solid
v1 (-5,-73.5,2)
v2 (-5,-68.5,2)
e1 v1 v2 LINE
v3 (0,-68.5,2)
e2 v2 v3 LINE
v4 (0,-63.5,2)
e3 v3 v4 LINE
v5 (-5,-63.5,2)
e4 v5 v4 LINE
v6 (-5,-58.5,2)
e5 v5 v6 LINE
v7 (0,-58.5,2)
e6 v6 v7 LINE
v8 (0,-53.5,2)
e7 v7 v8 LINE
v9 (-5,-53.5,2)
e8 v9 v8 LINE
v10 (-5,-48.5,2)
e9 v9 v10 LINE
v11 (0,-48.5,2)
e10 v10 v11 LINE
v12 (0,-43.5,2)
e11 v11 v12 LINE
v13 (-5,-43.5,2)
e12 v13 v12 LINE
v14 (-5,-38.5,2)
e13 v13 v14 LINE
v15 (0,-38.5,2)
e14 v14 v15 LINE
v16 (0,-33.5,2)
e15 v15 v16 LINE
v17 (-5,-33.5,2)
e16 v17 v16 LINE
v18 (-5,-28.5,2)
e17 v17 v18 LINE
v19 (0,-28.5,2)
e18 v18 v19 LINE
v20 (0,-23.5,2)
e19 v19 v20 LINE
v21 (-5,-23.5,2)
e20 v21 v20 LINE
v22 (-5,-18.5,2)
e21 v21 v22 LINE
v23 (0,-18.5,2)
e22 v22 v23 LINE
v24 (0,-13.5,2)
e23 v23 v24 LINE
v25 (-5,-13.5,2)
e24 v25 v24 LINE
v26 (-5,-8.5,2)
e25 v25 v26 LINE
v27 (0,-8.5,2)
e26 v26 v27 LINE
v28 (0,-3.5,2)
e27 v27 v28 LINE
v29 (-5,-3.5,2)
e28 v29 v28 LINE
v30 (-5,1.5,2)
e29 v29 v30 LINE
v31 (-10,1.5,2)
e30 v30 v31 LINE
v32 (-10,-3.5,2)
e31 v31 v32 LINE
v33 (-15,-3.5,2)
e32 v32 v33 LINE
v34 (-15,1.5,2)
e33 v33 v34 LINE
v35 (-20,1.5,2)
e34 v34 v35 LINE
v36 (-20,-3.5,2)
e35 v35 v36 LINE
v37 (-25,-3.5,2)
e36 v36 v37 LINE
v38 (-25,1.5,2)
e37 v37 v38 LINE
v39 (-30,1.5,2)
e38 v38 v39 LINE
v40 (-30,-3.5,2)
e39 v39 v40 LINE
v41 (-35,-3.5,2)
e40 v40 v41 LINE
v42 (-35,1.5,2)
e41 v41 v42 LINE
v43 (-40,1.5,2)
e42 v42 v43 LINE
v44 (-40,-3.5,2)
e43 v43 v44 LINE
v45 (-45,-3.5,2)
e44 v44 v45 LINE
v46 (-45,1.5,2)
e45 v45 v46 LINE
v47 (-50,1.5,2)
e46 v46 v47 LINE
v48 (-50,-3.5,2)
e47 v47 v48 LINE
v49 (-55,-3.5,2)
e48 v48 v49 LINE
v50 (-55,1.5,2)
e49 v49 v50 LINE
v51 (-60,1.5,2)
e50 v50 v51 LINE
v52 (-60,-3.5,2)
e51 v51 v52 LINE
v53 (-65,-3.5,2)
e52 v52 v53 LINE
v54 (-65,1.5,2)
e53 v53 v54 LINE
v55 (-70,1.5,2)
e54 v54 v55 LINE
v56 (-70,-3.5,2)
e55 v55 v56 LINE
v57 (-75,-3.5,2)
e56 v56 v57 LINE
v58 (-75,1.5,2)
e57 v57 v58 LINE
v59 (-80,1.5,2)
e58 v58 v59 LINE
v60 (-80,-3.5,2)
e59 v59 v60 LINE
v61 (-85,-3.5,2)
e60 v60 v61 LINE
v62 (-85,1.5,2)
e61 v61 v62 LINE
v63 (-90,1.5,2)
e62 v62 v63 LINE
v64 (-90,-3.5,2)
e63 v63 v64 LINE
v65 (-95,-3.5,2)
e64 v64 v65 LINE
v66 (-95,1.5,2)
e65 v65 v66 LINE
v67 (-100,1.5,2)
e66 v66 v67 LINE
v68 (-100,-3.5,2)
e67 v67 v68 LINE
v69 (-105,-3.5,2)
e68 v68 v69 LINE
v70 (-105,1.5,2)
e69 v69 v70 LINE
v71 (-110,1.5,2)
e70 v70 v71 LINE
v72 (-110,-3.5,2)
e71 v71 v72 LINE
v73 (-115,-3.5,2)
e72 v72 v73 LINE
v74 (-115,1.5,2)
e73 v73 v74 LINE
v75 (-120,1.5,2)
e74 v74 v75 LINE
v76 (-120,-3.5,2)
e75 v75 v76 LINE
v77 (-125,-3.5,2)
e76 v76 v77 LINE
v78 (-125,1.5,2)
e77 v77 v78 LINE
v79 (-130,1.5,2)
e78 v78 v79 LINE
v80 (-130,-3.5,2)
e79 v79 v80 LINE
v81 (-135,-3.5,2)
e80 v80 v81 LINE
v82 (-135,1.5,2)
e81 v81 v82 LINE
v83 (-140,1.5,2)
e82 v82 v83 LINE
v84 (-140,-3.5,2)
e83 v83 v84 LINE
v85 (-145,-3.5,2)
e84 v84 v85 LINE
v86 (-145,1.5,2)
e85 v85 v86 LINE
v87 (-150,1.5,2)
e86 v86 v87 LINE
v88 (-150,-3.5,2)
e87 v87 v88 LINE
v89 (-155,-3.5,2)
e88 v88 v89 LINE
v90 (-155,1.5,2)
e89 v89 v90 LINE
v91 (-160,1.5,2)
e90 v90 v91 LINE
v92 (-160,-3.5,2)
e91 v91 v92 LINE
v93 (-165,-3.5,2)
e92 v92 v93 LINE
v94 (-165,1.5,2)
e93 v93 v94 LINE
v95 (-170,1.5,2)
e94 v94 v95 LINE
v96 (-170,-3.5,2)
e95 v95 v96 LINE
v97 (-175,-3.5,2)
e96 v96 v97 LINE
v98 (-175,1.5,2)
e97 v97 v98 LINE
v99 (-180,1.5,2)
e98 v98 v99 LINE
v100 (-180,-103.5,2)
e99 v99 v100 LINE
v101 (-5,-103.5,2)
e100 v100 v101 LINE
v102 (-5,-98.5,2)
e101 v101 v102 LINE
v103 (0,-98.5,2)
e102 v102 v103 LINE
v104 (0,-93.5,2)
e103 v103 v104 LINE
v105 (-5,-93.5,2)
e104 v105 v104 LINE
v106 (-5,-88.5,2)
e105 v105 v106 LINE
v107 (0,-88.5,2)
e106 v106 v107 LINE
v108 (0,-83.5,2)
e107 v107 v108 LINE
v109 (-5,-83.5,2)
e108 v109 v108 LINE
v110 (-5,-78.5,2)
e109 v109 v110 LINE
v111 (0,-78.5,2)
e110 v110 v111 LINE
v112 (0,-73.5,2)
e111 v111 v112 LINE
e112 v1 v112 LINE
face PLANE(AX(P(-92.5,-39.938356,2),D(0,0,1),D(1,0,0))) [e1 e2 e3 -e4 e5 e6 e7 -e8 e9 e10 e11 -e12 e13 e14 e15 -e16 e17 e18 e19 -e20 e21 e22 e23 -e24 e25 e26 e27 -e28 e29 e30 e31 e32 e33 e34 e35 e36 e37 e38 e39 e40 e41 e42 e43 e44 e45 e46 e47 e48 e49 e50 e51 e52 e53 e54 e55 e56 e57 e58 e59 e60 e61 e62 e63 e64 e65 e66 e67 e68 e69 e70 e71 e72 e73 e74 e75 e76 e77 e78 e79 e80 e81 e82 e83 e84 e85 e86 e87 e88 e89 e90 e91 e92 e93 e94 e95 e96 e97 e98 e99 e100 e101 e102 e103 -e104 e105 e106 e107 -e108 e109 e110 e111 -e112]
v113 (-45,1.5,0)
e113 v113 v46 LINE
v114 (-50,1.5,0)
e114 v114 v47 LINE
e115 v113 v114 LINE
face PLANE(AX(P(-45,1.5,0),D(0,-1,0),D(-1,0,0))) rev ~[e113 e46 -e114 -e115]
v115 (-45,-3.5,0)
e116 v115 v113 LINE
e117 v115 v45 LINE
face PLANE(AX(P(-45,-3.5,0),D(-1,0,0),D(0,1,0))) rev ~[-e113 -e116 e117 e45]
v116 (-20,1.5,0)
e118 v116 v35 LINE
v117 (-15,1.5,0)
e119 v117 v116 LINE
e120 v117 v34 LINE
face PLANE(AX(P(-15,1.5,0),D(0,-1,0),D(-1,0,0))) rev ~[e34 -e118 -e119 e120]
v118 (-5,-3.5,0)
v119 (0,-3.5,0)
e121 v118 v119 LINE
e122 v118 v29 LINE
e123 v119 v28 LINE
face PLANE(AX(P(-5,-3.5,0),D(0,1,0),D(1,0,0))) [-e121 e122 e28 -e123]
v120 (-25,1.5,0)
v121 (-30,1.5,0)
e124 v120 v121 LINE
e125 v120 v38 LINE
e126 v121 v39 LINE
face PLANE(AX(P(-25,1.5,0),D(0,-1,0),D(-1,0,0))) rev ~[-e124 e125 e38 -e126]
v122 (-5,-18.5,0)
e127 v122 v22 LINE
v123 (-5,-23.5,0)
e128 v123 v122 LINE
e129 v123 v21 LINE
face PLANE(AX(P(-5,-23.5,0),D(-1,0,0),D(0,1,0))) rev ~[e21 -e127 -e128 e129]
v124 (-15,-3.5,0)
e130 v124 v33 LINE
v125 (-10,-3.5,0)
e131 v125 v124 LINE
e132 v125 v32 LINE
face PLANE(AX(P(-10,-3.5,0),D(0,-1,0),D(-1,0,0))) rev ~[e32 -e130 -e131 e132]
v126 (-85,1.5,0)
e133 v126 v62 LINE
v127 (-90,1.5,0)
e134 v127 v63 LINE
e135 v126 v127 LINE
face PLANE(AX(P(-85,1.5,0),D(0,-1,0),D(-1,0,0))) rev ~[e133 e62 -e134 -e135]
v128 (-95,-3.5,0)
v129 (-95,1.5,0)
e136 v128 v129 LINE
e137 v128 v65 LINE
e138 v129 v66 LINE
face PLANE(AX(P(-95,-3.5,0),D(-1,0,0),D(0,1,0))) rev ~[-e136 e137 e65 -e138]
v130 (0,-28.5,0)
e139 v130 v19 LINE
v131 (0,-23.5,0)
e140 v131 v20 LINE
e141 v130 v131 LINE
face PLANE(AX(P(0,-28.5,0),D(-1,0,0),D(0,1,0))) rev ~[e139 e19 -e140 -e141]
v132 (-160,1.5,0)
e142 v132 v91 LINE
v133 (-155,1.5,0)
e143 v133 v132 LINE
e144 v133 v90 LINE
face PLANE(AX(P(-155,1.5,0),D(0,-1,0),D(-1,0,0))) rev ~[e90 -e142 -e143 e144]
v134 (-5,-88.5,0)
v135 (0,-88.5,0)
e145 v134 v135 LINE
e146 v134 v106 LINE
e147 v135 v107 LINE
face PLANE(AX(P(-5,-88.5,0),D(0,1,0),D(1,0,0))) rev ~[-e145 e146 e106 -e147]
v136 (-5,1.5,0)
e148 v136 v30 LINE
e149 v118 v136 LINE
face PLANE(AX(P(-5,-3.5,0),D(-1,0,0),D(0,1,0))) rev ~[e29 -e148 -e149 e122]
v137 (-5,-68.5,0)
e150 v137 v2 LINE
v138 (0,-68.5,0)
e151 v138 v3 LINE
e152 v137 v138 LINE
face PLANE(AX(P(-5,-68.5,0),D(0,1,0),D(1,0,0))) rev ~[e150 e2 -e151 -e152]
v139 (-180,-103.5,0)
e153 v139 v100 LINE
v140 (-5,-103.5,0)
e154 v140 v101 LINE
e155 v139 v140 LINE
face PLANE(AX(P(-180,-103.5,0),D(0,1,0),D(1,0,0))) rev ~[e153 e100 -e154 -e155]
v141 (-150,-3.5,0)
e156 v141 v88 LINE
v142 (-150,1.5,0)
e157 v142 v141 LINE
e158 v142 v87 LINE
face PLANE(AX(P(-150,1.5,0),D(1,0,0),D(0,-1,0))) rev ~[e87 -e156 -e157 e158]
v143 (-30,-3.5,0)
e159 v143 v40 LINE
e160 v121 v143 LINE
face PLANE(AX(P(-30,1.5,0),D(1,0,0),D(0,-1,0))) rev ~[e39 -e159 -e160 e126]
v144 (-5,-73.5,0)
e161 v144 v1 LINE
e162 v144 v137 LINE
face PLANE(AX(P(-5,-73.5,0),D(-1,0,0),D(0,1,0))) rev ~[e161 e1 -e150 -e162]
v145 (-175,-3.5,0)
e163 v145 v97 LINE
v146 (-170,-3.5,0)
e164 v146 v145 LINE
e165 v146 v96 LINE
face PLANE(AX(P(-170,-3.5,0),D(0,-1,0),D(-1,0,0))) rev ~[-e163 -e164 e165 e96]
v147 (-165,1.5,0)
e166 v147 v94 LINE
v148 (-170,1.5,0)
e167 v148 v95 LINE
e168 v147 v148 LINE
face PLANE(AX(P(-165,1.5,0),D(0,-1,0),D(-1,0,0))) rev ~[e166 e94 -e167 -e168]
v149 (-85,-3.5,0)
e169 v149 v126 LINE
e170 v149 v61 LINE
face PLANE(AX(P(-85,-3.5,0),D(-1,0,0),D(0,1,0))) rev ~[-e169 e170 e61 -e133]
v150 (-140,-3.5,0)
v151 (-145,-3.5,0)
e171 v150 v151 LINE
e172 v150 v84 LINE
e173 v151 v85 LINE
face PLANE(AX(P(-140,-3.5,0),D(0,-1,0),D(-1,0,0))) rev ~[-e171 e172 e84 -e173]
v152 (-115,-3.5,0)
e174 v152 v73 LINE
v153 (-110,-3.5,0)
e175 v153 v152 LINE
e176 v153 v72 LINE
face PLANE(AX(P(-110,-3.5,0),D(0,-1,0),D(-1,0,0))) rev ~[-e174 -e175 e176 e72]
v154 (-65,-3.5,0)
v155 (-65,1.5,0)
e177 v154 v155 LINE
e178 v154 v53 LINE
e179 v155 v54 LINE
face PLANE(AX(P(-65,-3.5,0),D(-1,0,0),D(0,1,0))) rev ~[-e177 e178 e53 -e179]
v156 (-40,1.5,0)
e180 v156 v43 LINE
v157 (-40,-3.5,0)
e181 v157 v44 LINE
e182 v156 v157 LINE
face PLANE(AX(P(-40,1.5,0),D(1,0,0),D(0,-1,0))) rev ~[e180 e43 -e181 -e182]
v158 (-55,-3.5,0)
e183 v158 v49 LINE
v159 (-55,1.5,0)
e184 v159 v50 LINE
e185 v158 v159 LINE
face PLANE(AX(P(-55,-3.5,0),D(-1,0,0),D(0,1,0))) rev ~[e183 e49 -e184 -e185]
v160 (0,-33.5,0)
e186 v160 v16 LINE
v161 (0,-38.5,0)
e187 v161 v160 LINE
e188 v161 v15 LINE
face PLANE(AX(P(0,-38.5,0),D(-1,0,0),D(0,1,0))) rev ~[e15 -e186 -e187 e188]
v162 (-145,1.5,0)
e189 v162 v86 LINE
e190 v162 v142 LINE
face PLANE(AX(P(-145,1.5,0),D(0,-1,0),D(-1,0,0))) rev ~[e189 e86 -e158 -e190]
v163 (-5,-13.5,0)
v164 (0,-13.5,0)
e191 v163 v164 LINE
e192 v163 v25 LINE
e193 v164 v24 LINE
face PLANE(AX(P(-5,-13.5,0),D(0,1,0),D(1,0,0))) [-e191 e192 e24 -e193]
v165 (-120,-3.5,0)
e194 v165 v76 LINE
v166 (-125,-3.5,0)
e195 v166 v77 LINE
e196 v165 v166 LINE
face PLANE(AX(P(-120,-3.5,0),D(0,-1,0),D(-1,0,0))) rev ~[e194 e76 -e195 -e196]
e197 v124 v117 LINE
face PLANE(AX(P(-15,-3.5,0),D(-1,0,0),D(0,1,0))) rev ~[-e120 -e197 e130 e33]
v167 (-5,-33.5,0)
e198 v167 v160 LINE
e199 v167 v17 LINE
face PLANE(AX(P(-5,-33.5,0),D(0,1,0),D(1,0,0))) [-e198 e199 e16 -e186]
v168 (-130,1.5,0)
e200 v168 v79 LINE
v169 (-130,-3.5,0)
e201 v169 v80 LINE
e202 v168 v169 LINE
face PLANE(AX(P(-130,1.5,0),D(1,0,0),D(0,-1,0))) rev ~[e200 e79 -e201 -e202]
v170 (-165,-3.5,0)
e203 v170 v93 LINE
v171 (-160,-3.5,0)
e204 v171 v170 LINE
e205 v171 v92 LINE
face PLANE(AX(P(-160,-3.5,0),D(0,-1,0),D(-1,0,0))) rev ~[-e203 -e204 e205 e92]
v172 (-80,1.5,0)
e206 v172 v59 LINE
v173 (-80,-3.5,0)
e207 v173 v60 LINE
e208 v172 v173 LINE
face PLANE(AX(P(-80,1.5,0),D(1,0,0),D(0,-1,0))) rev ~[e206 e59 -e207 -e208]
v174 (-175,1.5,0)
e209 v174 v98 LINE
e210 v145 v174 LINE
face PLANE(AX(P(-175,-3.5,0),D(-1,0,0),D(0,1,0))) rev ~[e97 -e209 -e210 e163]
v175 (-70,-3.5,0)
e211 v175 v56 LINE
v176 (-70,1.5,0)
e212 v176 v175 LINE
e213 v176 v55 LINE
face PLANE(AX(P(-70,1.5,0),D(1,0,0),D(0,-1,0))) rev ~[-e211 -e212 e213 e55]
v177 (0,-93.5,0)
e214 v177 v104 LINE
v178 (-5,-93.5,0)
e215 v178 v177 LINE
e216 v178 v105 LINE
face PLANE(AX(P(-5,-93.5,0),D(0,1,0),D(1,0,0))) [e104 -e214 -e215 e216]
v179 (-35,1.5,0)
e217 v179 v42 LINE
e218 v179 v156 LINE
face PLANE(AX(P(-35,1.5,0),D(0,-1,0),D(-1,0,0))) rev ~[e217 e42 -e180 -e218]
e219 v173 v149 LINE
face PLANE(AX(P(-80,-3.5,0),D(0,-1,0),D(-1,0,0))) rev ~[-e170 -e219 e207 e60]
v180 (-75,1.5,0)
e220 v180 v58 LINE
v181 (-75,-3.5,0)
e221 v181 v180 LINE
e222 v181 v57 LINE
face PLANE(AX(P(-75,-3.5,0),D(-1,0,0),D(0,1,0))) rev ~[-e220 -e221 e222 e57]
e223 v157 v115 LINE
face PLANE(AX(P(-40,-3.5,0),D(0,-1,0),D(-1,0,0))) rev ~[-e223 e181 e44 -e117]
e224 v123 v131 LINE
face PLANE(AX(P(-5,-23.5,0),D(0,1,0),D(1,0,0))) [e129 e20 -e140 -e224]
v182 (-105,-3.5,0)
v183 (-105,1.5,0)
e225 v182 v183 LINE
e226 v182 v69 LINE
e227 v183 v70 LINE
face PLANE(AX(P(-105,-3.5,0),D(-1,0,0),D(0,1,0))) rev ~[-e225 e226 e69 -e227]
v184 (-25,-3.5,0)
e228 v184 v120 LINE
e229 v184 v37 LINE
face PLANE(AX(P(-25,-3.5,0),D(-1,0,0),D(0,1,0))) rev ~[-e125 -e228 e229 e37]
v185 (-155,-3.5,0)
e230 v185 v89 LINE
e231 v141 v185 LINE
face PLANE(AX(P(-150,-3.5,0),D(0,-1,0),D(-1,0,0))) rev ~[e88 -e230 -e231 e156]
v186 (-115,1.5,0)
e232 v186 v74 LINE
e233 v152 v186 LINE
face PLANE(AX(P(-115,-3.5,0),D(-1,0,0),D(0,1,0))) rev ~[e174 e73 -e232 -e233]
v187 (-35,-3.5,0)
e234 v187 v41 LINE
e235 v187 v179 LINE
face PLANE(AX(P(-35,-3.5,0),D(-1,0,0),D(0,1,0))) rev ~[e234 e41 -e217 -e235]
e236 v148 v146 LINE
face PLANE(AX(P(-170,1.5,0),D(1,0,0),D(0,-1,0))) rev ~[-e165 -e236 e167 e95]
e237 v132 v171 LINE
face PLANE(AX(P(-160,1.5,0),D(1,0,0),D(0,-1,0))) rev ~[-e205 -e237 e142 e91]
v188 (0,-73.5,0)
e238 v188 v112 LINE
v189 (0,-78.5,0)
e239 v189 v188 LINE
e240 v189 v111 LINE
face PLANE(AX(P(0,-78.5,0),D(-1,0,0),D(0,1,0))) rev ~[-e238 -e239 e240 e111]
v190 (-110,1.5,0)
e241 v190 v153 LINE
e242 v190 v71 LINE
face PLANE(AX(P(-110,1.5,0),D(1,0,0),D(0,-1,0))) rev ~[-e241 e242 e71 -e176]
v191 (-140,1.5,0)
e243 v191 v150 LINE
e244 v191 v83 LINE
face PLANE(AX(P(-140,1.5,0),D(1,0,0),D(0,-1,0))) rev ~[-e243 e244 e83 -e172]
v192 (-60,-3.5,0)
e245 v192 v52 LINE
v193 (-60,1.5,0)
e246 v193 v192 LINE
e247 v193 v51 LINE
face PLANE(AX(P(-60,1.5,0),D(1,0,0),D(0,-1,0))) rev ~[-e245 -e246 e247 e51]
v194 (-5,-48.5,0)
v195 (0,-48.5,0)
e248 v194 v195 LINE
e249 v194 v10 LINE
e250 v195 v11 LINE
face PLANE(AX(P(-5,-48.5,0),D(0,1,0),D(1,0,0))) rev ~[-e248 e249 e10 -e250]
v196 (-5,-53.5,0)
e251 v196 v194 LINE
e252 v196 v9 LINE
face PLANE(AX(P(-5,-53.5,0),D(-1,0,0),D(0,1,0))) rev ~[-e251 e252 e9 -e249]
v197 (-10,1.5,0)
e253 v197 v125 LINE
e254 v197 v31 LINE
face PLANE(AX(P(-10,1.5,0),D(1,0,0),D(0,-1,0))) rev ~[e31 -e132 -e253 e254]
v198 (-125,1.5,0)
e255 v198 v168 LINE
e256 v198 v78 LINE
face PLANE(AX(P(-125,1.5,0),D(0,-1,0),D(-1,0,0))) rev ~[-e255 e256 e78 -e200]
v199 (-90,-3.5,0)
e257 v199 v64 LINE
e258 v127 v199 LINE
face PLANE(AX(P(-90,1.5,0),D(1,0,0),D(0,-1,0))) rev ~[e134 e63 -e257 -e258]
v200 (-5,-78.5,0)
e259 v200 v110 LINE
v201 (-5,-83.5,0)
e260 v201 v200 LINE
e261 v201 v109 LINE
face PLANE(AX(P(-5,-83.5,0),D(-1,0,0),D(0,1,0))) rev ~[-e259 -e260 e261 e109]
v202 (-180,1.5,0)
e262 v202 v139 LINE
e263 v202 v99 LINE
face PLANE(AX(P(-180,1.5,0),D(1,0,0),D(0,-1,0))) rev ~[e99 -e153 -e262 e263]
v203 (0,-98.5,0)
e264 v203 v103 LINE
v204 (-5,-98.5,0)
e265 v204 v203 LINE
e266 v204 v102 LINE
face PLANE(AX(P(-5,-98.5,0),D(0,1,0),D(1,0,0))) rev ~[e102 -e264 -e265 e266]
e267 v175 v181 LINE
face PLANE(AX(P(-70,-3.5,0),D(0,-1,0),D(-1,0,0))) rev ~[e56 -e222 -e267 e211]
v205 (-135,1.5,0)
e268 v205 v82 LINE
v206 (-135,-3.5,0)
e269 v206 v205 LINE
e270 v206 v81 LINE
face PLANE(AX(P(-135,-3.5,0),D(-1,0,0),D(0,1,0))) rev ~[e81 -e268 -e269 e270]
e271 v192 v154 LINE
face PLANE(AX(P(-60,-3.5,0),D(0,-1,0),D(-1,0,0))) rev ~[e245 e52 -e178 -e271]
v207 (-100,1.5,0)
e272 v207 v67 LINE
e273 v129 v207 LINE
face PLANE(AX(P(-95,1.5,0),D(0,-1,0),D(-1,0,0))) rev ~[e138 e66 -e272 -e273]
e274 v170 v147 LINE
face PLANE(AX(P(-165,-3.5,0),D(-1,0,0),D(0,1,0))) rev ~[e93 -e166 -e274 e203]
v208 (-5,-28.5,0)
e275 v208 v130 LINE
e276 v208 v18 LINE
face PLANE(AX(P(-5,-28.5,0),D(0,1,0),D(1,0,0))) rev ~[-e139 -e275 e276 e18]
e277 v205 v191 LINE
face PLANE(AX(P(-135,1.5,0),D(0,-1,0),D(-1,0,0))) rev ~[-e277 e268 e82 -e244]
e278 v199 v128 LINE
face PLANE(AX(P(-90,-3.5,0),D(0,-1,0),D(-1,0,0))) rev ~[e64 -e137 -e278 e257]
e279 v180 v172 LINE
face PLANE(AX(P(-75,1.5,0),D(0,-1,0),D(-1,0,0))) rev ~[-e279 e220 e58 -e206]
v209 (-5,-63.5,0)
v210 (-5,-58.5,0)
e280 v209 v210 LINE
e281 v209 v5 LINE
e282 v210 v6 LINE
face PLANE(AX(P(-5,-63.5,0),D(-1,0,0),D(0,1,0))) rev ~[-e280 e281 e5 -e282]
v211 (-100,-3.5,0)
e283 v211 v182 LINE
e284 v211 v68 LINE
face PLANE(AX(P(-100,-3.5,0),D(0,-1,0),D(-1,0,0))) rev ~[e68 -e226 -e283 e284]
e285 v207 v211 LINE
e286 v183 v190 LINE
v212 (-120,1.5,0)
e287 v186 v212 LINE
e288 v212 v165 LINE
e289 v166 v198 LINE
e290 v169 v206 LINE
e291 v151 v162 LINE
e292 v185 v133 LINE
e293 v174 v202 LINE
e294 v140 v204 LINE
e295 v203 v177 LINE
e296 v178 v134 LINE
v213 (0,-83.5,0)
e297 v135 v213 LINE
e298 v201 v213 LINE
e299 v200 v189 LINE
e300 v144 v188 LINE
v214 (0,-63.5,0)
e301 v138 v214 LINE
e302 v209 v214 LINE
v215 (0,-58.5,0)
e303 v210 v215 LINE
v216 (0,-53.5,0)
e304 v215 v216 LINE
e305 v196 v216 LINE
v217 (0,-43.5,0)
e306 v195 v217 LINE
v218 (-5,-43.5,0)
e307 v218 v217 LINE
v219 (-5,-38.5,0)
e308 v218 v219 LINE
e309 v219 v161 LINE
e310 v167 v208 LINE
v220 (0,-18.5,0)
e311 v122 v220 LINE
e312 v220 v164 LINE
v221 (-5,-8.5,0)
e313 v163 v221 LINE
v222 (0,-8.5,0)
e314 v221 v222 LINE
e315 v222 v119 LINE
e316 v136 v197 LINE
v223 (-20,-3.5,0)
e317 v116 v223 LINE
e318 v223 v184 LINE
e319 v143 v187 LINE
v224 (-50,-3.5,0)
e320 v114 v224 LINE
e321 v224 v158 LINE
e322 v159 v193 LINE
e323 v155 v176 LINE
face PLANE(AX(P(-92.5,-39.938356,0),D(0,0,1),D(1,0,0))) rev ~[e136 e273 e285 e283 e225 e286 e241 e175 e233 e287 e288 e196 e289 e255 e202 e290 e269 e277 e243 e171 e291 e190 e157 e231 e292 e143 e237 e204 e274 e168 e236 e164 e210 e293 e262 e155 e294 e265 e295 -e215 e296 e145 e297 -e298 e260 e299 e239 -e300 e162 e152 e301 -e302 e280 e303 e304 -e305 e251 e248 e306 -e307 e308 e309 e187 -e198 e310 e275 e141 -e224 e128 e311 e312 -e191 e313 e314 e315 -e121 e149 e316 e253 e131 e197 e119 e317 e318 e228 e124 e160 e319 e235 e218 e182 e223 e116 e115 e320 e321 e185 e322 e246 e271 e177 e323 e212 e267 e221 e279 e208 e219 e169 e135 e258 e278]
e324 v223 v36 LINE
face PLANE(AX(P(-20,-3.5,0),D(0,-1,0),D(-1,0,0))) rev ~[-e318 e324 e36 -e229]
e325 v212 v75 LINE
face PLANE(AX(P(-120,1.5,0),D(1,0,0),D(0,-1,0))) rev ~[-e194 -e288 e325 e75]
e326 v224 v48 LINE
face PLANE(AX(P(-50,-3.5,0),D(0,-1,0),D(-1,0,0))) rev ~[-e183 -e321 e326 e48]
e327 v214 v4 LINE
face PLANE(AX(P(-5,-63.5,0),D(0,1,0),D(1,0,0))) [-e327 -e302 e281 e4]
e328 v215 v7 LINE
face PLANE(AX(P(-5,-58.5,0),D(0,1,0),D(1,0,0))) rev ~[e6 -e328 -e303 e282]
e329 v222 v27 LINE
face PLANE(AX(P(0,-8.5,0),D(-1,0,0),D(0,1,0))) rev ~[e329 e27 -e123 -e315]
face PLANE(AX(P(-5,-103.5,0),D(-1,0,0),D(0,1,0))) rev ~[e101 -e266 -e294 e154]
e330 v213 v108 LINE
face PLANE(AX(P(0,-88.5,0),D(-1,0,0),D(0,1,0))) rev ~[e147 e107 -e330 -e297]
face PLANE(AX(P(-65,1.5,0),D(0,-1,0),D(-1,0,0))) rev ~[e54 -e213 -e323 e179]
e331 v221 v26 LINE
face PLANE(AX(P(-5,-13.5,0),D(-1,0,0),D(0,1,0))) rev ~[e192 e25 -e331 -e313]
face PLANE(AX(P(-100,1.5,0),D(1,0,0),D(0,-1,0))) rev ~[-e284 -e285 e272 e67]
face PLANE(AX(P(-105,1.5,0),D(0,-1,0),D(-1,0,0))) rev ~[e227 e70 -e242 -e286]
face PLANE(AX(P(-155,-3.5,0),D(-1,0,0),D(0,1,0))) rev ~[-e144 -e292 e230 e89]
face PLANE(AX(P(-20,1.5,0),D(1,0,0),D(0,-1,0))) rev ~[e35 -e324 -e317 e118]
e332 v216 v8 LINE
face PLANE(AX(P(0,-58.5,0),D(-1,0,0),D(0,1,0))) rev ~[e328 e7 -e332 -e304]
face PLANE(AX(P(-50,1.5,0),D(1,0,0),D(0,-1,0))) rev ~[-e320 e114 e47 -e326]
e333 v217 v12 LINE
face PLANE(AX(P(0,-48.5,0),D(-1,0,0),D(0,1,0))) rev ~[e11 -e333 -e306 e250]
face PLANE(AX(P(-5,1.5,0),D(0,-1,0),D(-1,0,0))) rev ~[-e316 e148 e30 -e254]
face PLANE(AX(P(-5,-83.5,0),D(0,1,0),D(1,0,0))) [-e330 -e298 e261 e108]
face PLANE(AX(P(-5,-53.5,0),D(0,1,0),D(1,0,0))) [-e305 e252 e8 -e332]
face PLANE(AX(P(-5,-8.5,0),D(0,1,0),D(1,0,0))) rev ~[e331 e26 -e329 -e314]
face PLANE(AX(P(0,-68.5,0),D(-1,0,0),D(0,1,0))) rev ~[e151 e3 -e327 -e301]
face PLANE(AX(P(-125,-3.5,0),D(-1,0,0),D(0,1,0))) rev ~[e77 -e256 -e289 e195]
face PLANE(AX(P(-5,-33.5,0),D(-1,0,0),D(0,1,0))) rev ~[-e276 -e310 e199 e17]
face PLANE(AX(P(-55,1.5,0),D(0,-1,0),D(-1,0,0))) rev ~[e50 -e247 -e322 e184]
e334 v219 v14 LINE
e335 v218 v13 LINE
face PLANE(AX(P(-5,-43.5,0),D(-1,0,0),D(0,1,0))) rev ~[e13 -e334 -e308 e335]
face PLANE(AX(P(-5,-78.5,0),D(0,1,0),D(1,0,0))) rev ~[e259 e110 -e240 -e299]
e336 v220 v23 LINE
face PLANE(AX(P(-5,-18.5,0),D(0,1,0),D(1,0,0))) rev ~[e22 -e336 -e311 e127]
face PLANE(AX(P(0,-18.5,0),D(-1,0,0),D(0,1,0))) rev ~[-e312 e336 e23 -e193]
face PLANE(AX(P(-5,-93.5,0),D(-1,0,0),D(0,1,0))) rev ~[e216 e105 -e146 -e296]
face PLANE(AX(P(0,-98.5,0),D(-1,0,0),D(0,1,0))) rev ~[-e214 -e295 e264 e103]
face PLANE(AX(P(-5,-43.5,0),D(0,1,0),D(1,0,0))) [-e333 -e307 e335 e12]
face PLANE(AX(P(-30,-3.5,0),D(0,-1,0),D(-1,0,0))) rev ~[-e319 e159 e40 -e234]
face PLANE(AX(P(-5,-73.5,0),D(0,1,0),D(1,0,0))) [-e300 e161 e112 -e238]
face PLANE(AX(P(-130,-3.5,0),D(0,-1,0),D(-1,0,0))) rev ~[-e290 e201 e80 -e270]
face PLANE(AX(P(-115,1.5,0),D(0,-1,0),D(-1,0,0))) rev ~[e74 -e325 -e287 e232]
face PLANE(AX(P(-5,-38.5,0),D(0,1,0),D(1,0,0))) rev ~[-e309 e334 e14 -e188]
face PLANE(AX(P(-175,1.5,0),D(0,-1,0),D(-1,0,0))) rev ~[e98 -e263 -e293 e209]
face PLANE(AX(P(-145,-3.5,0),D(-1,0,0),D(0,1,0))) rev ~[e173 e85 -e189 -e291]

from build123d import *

# Parameters (mm, degrees)
F0_W     = 5
F0_H     = 5
F1_DEPTH = 2


with BuildPart() as f1:
    # F0 (on Top) → F1 (new body)
    with BuildSketch(Plane.XY):
        Polygon((-180, -3.5), (-180, -103.5), (-5, -103.5), (-5, -98.5), (-5, -93.5), (-5, -88.5), (-5, -83.5), (-5, -78.5), (-5, -73.5), (-5, -68.5), (-5, -63.5), (-5, -58.5), (-5, -53.5), (-5, -48.5), (-5, -43.5), (-5, -38.5), (-5, -33.5), (-5, -28.5), (-5, -23.5), (-5, -18.5), (-5, -13.5), (-5, -8.5), (-5, -3.5), (-5, 1.5), (-10, 1.5), (-10, -3.5), (-15, -3.5), (-15, 1.5), (-20, 1.5), (-20, -3.5), (-25, -3.5), (-25, 1.5), (-30, 1.5), (-30, -3.5), (-35, -3.5), (-35, 1.5), (-40, 1.5), (-40, -3.5), (-45, -3.5), (-45, 1.5), (-50, 1.5), (-50, -3.5), (-55, -3.5), (-55, 1.5), (-60, 1.5), (-60, -3.5), (-65, -3.5), (-65, 1.5), (-70, 1.5), (-70, -3.5), (-75, -3.5), (-75, 1.5), (-80, 1.5), (-80, -3.5), (-85, -3.5), (-85, 1.5), (-90, 1.5), (-90, -3.5), (-95, -3.5), (-95, 1.5), (-100, 1.5), (-100, -3.5), (-105, -3.5), (-105, 1.5), (-110, 1.5), (-110, -3.5), (-115, -3.5), (-115, 1.5), (-120, 1.5), (-120, -3.5), (-125, -3.5), (-125, 1.5), (-130, 1.5), (-130, -3.5), (-135, -3.5), (-135, 1.5), (-140, 1.5), (-140, -3.5), (-145, -3.5), (-145, 1.5), (-150, 1.5), (-150, -3.5), (-155, -3.5), (-155, 1.5), (-160, 1.5), (-160, -3.5), (-165, -3.5), (-165, 1.5), (-170, 1.5), (-170, -3.5), (-175, -3.5), (-175, 1.5), (-180, 1.5), align=None)
        with Locations((-2.5, -96)):
            Rectangle(F0_W, F0_H)
        with Locations((-2.5, -86)):
            Rectangle(F0_W, F0_H)
        with Locations((-2.5, -76)):
            Rectangle(F0_W, F0_H)
        with Locations((-2.5, -66)):
            Rectangle(F0_W, F0_H)
        with Locations((-2.5, -56)):
            Rectangle(F0_W, F0_H)
        with Locations((-2.5, -46)):
            Rectangle(F0_W, F0_H)
        with Locations((-2.5, -36)):
            Rectangle(F0_W, F0_H)
        with Locations((-2.5, -26)):
            Rectangle(F0_W, F0_H)
        with Locations((-2.5, -16)):
            Rectangle(F0_W, F0_H)
        with Locations((-2.5, -6)):
            Rectangle(F0_W, F0_H)
    extrude(amount=F1_DEPTH)


solid = f1.part
